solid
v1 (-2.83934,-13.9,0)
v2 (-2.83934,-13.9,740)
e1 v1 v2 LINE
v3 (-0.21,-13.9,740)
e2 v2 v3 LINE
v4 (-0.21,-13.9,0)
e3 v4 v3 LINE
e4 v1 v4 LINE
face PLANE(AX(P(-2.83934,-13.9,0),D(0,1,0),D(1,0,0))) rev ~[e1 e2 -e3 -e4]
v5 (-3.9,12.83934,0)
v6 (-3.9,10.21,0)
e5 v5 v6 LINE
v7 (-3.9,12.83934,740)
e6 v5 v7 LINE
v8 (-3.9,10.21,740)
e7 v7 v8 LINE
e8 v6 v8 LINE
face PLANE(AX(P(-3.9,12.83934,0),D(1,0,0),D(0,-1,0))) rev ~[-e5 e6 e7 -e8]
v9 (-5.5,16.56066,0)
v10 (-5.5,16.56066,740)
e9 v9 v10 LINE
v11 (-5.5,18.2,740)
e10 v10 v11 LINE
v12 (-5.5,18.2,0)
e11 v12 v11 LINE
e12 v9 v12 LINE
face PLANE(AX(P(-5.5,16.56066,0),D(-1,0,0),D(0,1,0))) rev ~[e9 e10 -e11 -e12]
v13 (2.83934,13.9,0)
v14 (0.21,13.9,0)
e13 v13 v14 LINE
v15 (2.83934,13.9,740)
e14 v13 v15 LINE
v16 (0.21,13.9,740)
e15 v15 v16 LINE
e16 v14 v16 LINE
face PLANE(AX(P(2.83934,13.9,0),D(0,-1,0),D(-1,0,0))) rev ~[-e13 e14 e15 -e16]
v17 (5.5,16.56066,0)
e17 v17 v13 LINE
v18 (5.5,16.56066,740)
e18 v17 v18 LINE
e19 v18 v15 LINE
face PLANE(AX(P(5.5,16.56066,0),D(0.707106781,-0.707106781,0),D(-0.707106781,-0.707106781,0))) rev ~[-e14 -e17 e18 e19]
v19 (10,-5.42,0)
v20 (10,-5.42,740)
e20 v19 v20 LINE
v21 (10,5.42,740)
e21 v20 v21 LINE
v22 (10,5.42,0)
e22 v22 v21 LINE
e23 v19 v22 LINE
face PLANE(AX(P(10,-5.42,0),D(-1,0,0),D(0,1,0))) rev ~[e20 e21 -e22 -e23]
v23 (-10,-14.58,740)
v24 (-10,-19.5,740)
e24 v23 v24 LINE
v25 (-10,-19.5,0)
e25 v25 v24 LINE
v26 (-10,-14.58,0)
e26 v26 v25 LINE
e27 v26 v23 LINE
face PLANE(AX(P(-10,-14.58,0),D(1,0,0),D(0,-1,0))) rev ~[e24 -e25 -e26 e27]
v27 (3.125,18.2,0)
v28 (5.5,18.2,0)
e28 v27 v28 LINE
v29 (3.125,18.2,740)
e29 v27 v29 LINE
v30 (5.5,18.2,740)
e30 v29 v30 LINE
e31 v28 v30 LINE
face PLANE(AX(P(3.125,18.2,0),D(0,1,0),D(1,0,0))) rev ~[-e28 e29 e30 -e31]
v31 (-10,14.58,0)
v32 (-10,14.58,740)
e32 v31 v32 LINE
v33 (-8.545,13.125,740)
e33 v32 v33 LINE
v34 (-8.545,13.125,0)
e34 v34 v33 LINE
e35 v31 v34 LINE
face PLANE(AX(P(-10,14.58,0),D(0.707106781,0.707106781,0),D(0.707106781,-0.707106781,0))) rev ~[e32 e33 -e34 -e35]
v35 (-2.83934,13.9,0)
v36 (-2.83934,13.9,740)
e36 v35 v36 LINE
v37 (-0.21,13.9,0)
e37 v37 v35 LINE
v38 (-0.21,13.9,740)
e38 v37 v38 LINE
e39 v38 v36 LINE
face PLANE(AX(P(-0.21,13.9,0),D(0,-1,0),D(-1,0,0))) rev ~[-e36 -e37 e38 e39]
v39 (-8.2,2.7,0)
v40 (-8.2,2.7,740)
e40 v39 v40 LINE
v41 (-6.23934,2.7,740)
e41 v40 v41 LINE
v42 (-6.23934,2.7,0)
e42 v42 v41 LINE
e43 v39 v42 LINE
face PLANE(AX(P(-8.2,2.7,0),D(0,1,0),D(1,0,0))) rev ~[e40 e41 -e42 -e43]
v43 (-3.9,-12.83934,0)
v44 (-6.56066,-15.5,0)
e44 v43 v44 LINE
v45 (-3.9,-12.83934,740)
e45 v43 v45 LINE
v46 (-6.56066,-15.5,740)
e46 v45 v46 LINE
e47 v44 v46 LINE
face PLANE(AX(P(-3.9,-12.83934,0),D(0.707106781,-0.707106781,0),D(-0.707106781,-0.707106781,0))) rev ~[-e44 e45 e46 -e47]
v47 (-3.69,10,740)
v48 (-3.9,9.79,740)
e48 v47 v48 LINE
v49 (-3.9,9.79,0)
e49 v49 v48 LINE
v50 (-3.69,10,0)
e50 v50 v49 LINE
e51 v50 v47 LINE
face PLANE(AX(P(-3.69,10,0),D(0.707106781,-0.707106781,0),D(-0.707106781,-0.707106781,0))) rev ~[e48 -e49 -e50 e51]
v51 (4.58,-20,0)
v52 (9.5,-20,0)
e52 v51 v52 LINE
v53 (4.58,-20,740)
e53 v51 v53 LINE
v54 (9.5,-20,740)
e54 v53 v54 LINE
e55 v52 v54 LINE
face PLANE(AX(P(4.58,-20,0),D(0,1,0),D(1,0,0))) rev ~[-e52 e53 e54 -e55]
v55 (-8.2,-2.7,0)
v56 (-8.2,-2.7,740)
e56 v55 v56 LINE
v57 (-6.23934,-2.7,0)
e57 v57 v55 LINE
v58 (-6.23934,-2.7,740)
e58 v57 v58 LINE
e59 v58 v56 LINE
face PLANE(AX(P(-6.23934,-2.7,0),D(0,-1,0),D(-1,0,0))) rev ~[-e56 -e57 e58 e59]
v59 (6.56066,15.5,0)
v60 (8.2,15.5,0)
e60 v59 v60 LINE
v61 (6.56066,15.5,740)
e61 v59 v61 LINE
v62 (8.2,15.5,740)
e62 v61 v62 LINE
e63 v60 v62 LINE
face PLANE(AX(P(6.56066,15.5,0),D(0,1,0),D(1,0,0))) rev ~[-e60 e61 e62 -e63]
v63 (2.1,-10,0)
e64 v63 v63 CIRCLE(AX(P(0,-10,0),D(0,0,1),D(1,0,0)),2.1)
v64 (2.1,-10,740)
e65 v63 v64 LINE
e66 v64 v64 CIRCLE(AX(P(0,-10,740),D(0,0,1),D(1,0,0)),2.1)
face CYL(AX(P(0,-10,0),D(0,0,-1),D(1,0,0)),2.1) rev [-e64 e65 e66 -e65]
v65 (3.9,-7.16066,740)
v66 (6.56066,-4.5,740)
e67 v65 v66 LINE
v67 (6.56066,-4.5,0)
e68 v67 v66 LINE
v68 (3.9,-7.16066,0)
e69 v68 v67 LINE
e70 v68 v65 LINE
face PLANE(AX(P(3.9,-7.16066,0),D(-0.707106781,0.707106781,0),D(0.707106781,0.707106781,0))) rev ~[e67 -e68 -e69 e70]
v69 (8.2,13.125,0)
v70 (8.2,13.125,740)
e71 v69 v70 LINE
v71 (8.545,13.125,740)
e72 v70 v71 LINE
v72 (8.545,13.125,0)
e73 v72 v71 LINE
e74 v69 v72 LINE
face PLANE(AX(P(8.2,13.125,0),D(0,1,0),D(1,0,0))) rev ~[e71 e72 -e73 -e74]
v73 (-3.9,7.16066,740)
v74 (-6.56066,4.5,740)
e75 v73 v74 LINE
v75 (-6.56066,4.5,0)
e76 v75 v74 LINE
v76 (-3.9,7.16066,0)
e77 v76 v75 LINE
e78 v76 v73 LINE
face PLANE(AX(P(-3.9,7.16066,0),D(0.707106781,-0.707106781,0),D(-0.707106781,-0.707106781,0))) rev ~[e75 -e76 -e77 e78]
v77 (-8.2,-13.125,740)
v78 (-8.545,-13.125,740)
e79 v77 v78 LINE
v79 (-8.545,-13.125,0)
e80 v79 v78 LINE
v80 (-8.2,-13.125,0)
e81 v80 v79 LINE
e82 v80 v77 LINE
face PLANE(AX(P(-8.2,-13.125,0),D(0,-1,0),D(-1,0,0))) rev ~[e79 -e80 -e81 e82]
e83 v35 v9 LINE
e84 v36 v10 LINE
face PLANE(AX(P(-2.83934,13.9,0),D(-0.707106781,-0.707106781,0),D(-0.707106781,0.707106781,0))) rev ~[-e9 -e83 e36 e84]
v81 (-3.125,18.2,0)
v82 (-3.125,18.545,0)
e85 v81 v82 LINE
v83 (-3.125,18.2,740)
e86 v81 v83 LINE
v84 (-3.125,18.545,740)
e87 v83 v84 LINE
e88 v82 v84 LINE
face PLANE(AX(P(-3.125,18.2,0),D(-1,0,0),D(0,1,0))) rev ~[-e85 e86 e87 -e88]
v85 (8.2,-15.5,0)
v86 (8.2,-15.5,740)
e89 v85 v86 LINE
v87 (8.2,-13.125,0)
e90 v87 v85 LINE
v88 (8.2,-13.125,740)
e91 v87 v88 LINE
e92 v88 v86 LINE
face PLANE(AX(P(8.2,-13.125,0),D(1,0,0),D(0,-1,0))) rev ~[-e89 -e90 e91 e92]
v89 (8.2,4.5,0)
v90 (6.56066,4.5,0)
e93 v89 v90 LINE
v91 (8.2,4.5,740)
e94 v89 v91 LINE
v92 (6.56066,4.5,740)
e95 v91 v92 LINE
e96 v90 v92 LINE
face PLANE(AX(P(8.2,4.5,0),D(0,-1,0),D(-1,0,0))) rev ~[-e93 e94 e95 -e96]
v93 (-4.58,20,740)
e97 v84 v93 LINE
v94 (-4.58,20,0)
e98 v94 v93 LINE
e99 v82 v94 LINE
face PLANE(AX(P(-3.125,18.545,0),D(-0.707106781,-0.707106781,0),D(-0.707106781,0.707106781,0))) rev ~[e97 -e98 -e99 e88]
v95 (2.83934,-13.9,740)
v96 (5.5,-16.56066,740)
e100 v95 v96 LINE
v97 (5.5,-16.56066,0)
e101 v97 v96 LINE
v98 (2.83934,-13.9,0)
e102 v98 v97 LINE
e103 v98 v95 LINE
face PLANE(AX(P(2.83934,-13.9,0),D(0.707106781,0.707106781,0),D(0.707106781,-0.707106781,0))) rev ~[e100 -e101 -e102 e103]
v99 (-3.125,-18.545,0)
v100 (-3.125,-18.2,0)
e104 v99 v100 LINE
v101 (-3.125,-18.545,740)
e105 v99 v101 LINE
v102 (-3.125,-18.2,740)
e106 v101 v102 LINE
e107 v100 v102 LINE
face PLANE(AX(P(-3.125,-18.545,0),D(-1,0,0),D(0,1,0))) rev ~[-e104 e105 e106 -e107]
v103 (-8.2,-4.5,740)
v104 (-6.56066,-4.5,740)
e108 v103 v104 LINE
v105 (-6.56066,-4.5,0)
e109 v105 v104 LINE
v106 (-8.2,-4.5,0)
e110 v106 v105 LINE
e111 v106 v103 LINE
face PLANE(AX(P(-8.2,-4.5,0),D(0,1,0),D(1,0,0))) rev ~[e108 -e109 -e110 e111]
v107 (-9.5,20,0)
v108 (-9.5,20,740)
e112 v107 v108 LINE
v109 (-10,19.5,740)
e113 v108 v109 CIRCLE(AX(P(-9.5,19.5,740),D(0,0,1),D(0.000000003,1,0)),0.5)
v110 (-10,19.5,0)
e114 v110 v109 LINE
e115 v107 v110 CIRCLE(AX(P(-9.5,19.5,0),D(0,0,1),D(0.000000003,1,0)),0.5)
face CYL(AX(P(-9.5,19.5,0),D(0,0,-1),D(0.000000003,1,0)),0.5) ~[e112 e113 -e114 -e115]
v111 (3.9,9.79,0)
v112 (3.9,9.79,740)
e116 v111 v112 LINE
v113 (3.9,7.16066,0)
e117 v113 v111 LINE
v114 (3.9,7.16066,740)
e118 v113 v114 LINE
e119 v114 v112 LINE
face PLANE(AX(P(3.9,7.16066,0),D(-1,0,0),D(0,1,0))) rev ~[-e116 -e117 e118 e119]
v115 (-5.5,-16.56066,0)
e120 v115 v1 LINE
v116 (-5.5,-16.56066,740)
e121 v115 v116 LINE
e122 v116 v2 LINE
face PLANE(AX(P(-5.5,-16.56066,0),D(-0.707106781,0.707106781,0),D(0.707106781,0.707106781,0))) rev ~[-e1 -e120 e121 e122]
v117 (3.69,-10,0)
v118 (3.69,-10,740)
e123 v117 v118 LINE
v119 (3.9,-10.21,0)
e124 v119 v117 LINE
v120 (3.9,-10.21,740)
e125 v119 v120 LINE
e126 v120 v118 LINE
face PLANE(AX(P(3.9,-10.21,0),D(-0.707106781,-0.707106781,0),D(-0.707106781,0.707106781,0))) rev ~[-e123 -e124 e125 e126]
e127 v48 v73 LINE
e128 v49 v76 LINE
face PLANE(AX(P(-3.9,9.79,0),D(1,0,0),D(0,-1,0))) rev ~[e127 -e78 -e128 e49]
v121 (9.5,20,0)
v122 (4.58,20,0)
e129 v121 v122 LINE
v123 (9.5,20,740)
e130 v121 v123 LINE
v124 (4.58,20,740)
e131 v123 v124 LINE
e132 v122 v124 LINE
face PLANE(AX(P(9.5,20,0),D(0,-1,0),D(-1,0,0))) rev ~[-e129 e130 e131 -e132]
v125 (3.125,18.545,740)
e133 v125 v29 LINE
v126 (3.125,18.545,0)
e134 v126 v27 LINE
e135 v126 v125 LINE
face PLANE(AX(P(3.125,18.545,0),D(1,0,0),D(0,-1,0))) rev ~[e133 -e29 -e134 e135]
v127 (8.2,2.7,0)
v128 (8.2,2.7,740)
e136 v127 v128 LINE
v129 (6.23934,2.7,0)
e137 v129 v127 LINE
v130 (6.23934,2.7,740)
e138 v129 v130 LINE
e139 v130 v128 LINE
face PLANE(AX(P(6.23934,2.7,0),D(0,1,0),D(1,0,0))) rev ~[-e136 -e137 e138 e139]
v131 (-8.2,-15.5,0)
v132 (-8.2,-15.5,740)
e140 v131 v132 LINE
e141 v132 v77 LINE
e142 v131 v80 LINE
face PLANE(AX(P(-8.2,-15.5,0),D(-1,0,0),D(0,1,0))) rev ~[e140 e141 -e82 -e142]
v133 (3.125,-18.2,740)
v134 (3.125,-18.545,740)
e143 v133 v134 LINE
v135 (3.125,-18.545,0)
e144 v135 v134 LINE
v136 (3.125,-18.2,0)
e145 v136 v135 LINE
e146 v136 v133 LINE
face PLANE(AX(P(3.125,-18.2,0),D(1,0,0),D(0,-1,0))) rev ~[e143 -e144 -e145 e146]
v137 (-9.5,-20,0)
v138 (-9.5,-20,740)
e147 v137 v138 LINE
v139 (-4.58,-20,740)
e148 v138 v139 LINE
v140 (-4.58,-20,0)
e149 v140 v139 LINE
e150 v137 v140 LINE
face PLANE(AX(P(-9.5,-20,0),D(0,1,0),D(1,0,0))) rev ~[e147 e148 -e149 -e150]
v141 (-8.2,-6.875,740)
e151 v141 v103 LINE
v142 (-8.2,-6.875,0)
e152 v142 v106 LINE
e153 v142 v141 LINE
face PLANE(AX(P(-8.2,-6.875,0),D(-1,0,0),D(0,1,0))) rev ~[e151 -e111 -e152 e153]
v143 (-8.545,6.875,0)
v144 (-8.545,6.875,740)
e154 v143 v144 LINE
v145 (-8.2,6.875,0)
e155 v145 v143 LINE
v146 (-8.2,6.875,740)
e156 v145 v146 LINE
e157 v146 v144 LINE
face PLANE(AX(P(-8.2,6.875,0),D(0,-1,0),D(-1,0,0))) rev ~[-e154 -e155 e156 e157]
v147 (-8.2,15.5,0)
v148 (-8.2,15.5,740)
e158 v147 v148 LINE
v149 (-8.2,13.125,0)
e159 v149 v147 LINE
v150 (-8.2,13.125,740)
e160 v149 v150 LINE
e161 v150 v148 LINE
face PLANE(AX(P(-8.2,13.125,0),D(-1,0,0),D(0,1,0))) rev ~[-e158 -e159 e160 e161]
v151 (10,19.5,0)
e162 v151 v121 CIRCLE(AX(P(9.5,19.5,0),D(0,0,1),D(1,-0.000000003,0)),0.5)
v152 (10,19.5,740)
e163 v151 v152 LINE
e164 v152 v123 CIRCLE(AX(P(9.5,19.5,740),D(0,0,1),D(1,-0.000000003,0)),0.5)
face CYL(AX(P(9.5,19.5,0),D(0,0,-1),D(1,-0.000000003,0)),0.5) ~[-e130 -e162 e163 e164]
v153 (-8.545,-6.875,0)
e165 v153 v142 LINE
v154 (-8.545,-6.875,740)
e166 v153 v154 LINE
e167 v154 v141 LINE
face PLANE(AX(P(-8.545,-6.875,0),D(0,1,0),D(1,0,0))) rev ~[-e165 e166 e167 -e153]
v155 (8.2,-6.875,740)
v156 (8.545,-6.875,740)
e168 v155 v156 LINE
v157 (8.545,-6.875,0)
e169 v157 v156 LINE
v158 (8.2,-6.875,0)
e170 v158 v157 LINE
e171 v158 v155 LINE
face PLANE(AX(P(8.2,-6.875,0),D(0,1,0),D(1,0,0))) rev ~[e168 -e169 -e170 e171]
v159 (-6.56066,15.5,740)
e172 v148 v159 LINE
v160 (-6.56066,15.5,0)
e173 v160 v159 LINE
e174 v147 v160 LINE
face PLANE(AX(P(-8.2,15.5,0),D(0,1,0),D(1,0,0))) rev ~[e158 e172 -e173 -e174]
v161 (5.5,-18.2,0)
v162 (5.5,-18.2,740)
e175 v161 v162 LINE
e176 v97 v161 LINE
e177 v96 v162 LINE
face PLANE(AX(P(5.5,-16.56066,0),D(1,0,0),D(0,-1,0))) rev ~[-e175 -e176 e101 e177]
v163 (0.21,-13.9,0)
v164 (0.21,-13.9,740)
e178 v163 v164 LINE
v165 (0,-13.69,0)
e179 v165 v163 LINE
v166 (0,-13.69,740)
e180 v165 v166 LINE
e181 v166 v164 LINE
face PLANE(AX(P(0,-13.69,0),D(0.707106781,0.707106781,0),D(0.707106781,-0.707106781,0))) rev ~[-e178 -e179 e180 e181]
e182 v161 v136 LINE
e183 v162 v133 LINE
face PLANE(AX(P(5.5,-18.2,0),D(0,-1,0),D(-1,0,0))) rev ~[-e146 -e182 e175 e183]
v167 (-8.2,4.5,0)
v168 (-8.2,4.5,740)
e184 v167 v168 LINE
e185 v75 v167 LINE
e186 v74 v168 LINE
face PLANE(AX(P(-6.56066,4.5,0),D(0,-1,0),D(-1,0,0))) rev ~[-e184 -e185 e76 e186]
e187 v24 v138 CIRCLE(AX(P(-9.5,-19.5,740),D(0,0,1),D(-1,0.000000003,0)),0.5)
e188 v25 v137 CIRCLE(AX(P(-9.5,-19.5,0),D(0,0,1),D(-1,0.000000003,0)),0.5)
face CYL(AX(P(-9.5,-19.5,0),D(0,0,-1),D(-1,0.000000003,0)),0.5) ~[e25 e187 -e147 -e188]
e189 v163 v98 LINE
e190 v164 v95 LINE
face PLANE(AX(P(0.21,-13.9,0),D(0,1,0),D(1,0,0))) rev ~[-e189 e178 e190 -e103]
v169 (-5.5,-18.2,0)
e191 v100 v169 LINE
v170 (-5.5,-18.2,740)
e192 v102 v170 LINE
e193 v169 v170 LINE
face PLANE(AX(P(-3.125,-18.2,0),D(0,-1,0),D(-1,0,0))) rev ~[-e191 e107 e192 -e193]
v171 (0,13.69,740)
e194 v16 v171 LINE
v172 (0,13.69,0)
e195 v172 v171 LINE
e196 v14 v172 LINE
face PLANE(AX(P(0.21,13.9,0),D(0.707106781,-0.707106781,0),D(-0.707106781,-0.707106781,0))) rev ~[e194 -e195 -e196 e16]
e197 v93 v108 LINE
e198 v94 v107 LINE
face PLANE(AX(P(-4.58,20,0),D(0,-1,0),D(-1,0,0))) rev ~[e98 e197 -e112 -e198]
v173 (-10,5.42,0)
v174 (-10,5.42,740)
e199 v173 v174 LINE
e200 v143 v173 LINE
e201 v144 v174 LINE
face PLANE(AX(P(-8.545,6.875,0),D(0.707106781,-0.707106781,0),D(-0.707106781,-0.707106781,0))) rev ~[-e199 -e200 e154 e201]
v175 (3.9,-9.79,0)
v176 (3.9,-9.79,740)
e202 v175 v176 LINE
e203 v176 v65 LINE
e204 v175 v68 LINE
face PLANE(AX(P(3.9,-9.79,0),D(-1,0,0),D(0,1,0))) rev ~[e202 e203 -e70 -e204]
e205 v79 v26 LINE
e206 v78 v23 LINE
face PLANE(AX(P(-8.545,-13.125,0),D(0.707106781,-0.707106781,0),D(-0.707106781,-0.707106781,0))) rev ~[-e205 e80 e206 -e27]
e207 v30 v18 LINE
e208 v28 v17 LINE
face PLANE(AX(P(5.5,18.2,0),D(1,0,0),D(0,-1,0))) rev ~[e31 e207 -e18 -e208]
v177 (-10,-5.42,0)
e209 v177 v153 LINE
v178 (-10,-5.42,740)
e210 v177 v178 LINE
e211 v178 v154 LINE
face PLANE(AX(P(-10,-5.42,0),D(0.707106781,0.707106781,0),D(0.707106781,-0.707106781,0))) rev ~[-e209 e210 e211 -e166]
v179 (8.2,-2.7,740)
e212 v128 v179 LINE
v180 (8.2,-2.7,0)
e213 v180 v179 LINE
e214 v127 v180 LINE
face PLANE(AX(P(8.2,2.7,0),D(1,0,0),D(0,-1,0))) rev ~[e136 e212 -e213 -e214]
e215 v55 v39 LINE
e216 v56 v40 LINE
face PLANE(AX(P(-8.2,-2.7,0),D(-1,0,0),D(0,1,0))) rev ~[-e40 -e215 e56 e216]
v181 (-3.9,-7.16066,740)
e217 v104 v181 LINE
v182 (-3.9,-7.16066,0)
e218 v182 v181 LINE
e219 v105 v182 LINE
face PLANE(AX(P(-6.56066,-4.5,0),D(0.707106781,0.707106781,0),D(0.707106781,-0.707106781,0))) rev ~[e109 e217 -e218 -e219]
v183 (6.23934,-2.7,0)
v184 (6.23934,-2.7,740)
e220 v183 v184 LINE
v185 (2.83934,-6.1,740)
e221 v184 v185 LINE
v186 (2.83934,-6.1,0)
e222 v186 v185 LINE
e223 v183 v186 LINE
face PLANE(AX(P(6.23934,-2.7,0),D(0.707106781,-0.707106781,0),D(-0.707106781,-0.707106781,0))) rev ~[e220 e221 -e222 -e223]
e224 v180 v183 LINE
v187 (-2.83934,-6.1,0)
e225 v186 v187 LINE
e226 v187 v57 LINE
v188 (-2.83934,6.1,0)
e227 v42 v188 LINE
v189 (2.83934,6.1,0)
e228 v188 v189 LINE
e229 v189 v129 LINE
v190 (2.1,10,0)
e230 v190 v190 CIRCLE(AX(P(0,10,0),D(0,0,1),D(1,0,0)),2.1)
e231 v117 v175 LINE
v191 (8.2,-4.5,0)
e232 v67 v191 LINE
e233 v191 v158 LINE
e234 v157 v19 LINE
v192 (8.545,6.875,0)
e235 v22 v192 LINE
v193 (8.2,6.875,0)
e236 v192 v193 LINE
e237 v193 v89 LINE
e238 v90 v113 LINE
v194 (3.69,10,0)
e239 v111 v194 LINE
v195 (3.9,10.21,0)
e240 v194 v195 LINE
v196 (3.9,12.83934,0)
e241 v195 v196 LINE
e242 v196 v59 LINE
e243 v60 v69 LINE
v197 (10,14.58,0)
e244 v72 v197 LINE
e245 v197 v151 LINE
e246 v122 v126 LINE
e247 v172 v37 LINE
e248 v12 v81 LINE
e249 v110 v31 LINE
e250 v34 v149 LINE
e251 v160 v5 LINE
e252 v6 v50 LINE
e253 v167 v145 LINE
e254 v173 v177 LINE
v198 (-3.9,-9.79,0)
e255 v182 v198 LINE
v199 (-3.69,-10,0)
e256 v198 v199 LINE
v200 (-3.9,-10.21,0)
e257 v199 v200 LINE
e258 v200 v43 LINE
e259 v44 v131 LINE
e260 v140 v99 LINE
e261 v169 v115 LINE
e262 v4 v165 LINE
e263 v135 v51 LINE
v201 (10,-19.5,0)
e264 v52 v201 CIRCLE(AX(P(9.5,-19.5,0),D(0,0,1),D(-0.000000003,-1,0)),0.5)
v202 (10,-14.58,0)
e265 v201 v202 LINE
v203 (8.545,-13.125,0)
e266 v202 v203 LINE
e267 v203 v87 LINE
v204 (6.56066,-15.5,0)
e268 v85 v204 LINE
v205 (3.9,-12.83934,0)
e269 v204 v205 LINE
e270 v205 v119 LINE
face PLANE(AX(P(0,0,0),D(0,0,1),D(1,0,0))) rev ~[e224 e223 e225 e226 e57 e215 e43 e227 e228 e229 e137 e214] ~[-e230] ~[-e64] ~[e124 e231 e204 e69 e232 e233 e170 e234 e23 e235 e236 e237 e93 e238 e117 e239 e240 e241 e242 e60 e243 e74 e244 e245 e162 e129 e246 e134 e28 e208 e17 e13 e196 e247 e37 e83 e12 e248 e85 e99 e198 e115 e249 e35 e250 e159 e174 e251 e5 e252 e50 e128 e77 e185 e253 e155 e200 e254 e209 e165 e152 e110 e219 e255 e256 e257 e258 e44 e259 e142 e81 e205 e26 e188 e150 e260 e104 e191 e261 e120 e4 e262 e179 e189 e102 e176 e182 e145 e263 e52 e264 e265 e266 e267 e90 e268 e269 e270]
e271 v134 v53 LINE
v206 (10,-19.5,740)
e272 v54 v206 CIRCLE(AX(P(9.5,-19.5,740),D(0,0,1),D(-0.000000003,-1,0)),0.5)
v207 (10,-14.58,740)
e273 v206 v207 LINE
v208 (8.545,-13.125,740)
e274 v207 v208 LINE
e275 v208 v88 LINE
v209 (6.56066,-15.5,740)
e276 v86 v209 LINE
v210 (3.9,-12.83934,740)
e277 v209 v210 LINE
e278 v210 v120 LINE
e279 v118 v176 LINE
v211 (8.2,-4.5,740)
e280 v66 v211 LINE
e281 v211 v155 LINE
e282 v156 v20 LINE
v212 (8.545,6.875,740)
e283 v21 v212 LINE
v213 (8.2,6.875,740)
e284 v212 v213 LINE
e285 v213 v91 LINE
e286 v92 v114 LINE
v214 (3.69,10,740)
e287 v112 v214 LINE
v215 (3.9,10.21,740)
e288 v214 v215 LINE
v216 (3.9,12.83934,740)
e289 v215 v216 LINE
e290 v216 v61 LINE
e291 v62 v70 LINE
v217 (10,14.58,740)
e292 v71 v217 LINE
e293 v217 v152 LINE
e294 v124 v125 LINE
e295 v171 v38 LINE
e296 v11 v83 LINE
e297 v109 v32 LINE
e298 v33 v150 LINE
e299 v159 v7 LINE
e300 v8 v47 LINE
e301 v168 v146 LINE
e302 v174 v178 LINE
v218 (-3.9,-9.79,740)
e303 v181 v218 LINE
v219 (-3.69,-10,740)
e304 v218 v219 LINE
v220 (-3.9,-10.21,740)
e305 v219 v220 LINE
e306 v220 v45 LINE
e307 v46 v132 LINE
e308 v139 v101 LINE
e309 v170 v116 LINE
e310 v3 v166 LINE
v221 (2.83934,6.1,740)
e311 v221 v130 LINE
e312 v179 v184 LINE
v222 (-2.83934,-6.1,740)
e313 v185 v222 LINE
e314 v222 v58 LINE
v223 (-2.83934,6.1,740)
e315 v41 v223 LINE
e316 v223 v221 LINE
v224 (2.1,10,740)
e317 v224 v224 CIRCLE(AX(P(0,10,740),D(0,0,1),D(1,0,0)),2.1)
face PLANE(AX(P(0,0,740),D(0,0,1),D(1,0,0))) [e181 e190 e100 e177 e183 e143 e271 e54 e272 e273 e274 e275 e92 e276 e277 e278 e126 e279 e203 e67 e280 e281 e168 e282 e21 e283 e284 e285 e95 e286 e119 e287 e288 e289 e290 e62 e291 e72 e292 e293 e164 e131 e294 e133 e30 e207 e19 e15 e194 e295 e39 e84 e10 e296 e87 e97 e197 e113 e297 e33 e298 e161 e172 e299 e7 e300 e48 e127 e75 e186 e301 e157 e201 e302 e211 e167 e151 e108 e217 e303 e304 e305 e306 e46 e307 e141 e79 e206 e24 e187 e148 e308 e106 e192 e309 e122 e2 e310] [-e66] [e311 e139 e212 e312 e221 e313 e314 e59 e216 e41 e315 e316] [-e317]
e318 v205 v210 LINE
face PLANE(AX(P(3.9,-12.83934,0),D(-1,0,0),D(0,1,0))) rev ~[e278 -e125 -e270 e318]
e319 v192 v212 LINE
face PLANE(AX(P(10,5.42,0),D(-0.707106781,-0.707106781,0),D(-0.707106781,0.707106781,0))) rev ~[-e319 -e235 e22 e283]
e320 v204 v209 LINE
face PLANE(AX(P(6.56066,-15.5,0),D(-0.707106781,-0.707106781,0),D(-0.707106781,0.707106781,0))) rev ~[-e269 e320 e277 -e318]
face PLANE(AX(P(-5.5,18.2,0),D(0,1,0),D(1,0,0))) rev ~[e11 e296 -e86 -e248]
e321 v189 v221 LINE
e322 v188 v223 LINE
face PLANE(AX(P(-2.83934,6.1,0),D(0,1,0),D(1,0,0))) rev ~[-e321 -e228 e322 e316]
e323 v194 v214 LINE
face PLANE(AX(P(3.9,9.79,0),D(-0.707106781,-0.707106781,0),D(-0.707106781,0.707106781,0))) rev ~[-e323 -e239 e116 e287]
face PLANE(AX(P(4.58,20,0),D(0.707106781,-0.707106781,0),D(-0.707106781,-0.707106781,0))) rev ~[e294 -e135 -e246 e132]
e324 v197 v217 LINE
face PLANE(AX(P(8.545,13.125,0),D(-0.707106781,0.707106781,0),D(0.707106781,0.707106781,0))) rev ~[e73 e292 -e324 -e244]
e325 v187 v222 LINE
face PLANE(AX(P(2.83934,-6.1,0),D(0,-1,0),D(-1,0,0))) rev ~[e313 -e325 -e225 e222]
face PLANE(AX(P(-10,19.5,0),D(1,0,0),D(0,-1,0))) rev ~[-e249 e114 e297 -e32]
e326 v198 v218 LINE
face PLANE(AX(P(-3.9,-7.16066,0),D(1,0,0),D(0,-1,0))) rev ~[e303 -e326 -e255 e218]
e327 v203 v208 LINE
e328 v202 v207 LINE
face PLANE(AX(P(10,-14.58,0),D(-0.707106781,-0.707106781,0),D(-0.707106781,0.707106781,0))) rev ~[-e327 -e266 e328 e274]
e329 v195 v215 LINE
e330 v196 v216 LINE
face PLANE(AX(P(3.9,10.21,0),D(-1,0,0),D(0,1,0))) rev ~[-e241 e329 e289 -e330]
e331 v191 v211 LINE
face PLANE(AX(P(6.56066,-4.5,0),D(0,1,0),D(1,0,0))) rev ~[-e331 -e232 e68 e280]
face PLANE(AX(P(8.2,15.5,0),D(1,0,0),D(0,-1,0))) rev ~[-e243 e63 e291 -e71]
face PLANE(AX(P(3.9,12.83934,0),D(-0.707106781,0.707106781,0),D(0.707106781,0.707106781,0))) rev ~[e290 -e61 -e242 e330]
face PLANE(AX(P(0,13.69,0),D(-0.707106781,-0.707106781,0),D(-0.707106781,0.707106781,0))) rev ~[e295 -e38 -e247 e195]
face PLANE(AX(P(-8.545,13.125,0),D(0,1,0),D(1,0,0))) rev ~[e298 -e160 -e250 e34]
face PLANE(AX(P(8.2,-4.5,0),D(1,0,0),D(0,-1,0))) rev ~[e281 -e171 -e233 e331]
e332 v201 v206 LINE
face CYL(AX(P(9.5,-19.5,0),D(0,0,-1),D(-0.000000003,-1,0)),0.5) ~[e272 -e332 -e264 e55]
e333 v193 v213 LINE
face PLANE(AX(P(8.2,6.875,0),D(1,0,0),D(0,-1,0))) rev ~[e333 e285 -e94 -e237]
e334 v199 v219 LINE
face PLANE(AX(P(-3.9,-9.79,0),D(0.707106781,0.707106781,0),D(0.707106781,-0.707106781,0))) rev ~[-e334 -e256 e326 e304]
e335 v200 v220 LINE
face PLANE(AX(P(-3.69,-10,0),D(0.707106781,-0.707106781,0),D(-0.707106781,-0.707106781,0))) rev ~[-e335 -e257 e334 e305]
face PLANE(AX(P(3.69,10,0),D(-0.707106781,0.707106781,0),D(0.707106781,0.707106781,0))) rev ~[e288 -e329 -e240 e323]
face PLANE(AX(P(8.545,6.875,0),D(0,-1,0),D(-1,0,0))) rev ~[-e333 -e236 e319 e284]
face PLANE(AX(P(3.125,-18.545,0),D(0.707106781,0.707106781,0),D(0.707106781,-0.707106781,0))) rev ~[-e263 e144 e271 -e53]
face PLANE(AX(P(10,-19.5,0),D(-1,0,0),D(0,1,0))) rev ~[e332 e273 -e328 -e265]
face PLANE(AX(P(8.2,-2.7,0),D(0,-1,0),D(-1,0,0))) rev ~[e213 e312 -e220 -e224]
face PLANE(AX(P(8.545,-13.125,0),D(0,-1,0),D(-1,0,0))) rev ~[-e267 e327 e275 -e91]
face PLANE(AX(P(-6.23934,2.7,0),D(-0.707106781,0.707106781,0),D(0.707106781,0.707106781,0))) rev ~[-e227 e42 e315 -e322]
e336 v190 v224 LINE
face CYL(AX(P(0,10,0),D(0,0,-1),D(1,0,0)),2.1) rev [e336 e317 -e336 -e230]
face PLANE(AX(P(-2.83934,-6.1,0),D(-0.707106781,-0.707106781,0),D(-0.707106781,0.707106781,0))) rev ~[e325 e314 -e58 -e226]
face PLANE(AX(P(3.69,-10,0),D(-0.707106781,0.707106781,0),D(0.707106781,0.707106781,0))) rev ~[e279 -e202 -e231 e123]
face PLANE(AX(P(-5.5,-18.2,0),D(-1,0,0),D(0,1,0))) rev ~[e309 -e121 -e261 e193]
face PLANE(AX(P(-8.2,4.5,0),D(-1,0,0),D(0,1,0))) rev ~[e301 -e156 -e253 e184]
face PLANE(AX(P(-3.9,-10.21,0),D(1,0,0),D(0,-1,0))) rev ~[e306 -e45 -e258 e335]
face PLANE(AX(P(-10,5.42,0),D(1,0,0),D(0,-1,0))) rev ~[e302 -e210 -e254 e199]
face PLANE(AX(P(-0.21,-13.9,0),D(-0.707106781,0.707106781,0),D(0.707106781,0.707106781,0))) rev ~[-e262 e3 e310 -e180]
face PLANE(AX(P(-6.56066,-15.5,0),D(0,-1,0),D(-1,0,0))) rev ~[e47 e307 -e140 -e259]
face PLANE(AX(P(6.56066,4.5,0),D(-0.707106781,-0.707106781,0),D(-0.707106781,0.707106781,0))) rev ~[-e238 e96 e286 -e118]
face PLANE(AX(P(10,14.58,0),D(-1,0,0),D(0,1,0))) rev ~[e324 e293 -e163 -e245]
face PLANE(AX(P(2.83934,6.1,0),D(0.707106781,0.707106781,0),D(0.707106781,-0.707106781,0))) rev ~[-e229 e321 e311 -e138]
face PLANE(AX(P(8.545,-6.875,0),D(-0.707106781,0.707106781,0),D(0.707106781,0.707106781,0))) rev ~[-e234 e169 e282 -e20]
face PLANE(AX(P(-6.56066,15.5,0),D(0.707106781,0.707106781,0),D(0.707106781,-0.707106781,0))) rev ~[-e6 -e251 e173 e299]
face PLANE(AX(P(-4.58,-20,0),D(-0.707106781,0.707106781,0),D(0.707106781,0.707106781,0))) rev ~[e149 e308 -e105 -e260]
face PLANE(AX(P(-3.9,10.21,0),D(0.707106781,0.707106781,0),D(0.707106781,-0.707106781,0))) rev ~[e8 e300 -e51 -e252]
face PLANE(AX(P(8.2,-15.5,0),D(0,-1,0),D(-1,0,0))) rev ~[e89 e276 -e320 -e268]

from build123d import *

# Parameters (mm, degrees)
SKETCH1_R           = 2.1
BOSS_EXTRUDE1_DEPTH = 740


with BuildPart() as part:
    # Sketch1 → Boss-Extrude1 (new body)
    with BuildSketch(Plane.XY):
        with BuildLine():
            Line((4.58, -20), (9.5, -20))
            ThreePointArc((9.5, -20), (9.853553391, -19.853553391), (10, -19.5))
            Line((10, -19.5), (10, -14.58))
            Line((10, -14.58), (8.545, -13.125))
            Line((8.545, -13.125), (8.2, -13.125))
            Line((8.2, -13.125), (8.2, -15.5))
            Line((8.2, -15.5), (6.560660172, -15.5))
            Line((6.560660172, -15.5), (3.9, -12.839339828))
            Line((3.9, -12.839339828), (3.9, -10.21))
            Line((3.9, -10.21), (3.69, -10))
            Line((3.69, -10), (3.9, -9.79))
            Line((3.9, -9.79), (3.9, -7.160660172))
            Line((3.9, -7.160660172), (6.560660172, -4.5))
            Line((6.560660172, -4.5), (8.2, -4.5))
            Line((8.2, -4.5), (8.2, -6.875))
            Line((8.2, -6.875), (8.545, -6.875))
            Line((8.545, -6.875), (10, -5.42))
            Line((10, -5.42), (10, 5.42))
            Line((10, 5.42), (8.545, 6.875))
            Line((8.545, 6.875), (8.2, 6.875))
            Line((8.2, 6.875), (8.2, 4.5))
            Line((8.2, 4.5), (6.560660172, 4.5))
            Line((6.560660172, 4.5), (3.9, 7.160660172))
            Line((3.9, 7.160660172), (3.9, 9.79))
            Line((3.9, 9.79), (3.69, 10))
            Line((3.69, 10), (3.9, 10.21))
            Line((3.9, 10.21), (3.9, 12.839339828))
            Line((3.9, 12.839339828), (6.560660172, 15.5))
            Line((6.560660172, 15.5), (8.2, 15.5))
            Line((8.2, 15.5), (8.2, 13.125))
            Line((8.2, 13.125), (8.545, 13.125))
            Line((8.545, 13.125), (10, 14.58))
            Line((10, 14.58), (10, 19.5))
            ThreePointArc((10, 19.5), (9.853553391, 19.853553391), (9.5, 20))
            Line((9.5, 20), (4.58, 20))
            Line((4.58, 20), (3.125, 18.545))
            Line((3.125, 18.545), (3.125, 18.2))
            Line((3.125, 18.2), (5.5, 18.2))
            Line((5.5, 18.2), (5.5, 16.560660172))
            Line((5.5, 16.560660172), (2.839339828, 13.9))
            Line((2.839339828, 13.9), (0.21, 13.9))
            Line((0.21, 13.9), (0, 13.69))
            Line((0, 13.69), (-0.21, 13.9))
            Line((-0.21, 13.9), (-2.839339828, 13.9))
            Line((-2.839339828, 13.9), (-5.5, 16.560660172))
            Line((-5.5, 16.560660172), (-5.5, 18.2))
            Line((-5.5, 18.2), (-3.125, 18.2))
            Line((-3.125, 18.2), (-3.125, 18.545))
            Line((-3.125, 18.545), (-4.58, 20))
            Line((-4.58, 20), (-9.5, 20))
            ThreePointArc((-9.5, 20), (-9.853553391, 19.853553391), (-10, 19.5))
            Line((-10, 19.5), (-10, 14.58))
            Line((-10, 14.58), (-8.545, 13.125))
            Line((-8.545, 13.125), (-8.2, 13.125))
            Line((-8.2, 13.125), (-8.2, 15.5))
            Line((-8.2, 15.5), (-6.560660172, 15.5))
            Line((-6.560660172, 15.5), (-3.9, 12.839339828))
            Line((-3.9, 12.839339828), (-3.9, 10.21))
            Line((-3.9, 10.21), (-3.69, 10))
            Line((-3.69, 10), (-3.9, 9.79))
            Line((-3.9, 9.79), (-3.9, 7.160660172))
            Line((-3.9, 7.160660172), (-6.560660172, 4.5))
            Line((-6.560660172, 4.5), (-8.2, 4.5))
            Line((-8.2, 4.5), (-8.2, 6.875))
            Line((-8.2, 6.875), (-8.545, 6.875))
            Line((-8.545, 6.875), (-10, 5.42))
            Line((-10, 5.42), (-10, -5.42))
            Line((-10, -5.42), (-8.545, -6.875))
            Line((-8.545, -6.875), (-8.2, -6.875))
            Line((-8.2, -6.875), (-8.2, -4.5))
            Line((-8.2, -4.5), (-6.560660172, -4.5))
            Line((-6.560660172, -4.5), (-3.9, -7.160660172))
            Line((-3.9, -7.160660172), (-3.9, -9.79))
            Line((-3.9, -9.79), (-3.69, -10))
            Line((-3.69, -10), (-3.9, -10.21))
            Line((-3.9, -10.21), (-3.9, -12.839339828))
            Line((-3.9, -12.839339828), (-6.560660172, -15.5))
            Line((-6.560660172, -15.5), (-8.2, -15.5))
            Line((-8.2, -15.5), (-8.2, -13.125))
            Line((-8.2, -13.125), (-8.545, -13.125))
            Line((-8.545, -13.125), (-10, -14.58))
            Line((-10, -14.58), (-10, -19.5))
            ThreePointArc((-10, -19.5), (-9.853553391, -19.853553391), (-9.5, -20))
            Line((-9.5, -20), (-4.58, -20))
            Line((-4.58, -20), (-3.125, -18.545))
            Line((-3.125, -18.545), (-3.125, -18.2))
            Line((-3.125, -18.2), (-5.5, -18.2))
            Line((-5.5, -18.2), (-5.5, -16.560660172))
            Line((-5.5, -16.560660172), (-2.839339828, -13.9))
            Line((-2.839339828, -13.9), (-0.21, -13.9))
            Line((-0.21, -13.9), (0, -13.69))
            Line((0, -13.69), (0.21, -13.9))
            Line((0.21, -13.9), (2.839339828, -13.9))
            Line((2.839339828, -13.9), (5.5, -16.560660172))
            Line((5.5, -16.560660172), (5.5, -18.2))
            Line((5.5, -18.2), (3.125, -18.2))
            Line((3.125, -18.2), (3.125, -18.545))
            Line((3.125, -18.545), (4.58, -20))
        make_face()
        with Locations((0, -10)):
            Circle(SKETCH1_R, mode=Mode.SUBTRACT)
        Polygon((-6.239339828, -2.7), (-8.2, -2.7), (-8.2, 2.7), (-6.239339828, 2.7), (-2.839339828, 6.1), (2.839339828, 6.1), (6.239339828, 2.7), (8.2, 2.7), (8.2, -2.7), (6.239339828, -2.7), (2.839339828, -6.1), (-2.839339828, -6.1), align=None, mode=Mode.SUBTRACT)
        with Locations((0, 10)):
            Circle(SKETCH1_R, mode=Mode.SUBTRACT)
    extrude(amount=BOSS_EXTRUDE1_DEPTH)


solid = part.part
